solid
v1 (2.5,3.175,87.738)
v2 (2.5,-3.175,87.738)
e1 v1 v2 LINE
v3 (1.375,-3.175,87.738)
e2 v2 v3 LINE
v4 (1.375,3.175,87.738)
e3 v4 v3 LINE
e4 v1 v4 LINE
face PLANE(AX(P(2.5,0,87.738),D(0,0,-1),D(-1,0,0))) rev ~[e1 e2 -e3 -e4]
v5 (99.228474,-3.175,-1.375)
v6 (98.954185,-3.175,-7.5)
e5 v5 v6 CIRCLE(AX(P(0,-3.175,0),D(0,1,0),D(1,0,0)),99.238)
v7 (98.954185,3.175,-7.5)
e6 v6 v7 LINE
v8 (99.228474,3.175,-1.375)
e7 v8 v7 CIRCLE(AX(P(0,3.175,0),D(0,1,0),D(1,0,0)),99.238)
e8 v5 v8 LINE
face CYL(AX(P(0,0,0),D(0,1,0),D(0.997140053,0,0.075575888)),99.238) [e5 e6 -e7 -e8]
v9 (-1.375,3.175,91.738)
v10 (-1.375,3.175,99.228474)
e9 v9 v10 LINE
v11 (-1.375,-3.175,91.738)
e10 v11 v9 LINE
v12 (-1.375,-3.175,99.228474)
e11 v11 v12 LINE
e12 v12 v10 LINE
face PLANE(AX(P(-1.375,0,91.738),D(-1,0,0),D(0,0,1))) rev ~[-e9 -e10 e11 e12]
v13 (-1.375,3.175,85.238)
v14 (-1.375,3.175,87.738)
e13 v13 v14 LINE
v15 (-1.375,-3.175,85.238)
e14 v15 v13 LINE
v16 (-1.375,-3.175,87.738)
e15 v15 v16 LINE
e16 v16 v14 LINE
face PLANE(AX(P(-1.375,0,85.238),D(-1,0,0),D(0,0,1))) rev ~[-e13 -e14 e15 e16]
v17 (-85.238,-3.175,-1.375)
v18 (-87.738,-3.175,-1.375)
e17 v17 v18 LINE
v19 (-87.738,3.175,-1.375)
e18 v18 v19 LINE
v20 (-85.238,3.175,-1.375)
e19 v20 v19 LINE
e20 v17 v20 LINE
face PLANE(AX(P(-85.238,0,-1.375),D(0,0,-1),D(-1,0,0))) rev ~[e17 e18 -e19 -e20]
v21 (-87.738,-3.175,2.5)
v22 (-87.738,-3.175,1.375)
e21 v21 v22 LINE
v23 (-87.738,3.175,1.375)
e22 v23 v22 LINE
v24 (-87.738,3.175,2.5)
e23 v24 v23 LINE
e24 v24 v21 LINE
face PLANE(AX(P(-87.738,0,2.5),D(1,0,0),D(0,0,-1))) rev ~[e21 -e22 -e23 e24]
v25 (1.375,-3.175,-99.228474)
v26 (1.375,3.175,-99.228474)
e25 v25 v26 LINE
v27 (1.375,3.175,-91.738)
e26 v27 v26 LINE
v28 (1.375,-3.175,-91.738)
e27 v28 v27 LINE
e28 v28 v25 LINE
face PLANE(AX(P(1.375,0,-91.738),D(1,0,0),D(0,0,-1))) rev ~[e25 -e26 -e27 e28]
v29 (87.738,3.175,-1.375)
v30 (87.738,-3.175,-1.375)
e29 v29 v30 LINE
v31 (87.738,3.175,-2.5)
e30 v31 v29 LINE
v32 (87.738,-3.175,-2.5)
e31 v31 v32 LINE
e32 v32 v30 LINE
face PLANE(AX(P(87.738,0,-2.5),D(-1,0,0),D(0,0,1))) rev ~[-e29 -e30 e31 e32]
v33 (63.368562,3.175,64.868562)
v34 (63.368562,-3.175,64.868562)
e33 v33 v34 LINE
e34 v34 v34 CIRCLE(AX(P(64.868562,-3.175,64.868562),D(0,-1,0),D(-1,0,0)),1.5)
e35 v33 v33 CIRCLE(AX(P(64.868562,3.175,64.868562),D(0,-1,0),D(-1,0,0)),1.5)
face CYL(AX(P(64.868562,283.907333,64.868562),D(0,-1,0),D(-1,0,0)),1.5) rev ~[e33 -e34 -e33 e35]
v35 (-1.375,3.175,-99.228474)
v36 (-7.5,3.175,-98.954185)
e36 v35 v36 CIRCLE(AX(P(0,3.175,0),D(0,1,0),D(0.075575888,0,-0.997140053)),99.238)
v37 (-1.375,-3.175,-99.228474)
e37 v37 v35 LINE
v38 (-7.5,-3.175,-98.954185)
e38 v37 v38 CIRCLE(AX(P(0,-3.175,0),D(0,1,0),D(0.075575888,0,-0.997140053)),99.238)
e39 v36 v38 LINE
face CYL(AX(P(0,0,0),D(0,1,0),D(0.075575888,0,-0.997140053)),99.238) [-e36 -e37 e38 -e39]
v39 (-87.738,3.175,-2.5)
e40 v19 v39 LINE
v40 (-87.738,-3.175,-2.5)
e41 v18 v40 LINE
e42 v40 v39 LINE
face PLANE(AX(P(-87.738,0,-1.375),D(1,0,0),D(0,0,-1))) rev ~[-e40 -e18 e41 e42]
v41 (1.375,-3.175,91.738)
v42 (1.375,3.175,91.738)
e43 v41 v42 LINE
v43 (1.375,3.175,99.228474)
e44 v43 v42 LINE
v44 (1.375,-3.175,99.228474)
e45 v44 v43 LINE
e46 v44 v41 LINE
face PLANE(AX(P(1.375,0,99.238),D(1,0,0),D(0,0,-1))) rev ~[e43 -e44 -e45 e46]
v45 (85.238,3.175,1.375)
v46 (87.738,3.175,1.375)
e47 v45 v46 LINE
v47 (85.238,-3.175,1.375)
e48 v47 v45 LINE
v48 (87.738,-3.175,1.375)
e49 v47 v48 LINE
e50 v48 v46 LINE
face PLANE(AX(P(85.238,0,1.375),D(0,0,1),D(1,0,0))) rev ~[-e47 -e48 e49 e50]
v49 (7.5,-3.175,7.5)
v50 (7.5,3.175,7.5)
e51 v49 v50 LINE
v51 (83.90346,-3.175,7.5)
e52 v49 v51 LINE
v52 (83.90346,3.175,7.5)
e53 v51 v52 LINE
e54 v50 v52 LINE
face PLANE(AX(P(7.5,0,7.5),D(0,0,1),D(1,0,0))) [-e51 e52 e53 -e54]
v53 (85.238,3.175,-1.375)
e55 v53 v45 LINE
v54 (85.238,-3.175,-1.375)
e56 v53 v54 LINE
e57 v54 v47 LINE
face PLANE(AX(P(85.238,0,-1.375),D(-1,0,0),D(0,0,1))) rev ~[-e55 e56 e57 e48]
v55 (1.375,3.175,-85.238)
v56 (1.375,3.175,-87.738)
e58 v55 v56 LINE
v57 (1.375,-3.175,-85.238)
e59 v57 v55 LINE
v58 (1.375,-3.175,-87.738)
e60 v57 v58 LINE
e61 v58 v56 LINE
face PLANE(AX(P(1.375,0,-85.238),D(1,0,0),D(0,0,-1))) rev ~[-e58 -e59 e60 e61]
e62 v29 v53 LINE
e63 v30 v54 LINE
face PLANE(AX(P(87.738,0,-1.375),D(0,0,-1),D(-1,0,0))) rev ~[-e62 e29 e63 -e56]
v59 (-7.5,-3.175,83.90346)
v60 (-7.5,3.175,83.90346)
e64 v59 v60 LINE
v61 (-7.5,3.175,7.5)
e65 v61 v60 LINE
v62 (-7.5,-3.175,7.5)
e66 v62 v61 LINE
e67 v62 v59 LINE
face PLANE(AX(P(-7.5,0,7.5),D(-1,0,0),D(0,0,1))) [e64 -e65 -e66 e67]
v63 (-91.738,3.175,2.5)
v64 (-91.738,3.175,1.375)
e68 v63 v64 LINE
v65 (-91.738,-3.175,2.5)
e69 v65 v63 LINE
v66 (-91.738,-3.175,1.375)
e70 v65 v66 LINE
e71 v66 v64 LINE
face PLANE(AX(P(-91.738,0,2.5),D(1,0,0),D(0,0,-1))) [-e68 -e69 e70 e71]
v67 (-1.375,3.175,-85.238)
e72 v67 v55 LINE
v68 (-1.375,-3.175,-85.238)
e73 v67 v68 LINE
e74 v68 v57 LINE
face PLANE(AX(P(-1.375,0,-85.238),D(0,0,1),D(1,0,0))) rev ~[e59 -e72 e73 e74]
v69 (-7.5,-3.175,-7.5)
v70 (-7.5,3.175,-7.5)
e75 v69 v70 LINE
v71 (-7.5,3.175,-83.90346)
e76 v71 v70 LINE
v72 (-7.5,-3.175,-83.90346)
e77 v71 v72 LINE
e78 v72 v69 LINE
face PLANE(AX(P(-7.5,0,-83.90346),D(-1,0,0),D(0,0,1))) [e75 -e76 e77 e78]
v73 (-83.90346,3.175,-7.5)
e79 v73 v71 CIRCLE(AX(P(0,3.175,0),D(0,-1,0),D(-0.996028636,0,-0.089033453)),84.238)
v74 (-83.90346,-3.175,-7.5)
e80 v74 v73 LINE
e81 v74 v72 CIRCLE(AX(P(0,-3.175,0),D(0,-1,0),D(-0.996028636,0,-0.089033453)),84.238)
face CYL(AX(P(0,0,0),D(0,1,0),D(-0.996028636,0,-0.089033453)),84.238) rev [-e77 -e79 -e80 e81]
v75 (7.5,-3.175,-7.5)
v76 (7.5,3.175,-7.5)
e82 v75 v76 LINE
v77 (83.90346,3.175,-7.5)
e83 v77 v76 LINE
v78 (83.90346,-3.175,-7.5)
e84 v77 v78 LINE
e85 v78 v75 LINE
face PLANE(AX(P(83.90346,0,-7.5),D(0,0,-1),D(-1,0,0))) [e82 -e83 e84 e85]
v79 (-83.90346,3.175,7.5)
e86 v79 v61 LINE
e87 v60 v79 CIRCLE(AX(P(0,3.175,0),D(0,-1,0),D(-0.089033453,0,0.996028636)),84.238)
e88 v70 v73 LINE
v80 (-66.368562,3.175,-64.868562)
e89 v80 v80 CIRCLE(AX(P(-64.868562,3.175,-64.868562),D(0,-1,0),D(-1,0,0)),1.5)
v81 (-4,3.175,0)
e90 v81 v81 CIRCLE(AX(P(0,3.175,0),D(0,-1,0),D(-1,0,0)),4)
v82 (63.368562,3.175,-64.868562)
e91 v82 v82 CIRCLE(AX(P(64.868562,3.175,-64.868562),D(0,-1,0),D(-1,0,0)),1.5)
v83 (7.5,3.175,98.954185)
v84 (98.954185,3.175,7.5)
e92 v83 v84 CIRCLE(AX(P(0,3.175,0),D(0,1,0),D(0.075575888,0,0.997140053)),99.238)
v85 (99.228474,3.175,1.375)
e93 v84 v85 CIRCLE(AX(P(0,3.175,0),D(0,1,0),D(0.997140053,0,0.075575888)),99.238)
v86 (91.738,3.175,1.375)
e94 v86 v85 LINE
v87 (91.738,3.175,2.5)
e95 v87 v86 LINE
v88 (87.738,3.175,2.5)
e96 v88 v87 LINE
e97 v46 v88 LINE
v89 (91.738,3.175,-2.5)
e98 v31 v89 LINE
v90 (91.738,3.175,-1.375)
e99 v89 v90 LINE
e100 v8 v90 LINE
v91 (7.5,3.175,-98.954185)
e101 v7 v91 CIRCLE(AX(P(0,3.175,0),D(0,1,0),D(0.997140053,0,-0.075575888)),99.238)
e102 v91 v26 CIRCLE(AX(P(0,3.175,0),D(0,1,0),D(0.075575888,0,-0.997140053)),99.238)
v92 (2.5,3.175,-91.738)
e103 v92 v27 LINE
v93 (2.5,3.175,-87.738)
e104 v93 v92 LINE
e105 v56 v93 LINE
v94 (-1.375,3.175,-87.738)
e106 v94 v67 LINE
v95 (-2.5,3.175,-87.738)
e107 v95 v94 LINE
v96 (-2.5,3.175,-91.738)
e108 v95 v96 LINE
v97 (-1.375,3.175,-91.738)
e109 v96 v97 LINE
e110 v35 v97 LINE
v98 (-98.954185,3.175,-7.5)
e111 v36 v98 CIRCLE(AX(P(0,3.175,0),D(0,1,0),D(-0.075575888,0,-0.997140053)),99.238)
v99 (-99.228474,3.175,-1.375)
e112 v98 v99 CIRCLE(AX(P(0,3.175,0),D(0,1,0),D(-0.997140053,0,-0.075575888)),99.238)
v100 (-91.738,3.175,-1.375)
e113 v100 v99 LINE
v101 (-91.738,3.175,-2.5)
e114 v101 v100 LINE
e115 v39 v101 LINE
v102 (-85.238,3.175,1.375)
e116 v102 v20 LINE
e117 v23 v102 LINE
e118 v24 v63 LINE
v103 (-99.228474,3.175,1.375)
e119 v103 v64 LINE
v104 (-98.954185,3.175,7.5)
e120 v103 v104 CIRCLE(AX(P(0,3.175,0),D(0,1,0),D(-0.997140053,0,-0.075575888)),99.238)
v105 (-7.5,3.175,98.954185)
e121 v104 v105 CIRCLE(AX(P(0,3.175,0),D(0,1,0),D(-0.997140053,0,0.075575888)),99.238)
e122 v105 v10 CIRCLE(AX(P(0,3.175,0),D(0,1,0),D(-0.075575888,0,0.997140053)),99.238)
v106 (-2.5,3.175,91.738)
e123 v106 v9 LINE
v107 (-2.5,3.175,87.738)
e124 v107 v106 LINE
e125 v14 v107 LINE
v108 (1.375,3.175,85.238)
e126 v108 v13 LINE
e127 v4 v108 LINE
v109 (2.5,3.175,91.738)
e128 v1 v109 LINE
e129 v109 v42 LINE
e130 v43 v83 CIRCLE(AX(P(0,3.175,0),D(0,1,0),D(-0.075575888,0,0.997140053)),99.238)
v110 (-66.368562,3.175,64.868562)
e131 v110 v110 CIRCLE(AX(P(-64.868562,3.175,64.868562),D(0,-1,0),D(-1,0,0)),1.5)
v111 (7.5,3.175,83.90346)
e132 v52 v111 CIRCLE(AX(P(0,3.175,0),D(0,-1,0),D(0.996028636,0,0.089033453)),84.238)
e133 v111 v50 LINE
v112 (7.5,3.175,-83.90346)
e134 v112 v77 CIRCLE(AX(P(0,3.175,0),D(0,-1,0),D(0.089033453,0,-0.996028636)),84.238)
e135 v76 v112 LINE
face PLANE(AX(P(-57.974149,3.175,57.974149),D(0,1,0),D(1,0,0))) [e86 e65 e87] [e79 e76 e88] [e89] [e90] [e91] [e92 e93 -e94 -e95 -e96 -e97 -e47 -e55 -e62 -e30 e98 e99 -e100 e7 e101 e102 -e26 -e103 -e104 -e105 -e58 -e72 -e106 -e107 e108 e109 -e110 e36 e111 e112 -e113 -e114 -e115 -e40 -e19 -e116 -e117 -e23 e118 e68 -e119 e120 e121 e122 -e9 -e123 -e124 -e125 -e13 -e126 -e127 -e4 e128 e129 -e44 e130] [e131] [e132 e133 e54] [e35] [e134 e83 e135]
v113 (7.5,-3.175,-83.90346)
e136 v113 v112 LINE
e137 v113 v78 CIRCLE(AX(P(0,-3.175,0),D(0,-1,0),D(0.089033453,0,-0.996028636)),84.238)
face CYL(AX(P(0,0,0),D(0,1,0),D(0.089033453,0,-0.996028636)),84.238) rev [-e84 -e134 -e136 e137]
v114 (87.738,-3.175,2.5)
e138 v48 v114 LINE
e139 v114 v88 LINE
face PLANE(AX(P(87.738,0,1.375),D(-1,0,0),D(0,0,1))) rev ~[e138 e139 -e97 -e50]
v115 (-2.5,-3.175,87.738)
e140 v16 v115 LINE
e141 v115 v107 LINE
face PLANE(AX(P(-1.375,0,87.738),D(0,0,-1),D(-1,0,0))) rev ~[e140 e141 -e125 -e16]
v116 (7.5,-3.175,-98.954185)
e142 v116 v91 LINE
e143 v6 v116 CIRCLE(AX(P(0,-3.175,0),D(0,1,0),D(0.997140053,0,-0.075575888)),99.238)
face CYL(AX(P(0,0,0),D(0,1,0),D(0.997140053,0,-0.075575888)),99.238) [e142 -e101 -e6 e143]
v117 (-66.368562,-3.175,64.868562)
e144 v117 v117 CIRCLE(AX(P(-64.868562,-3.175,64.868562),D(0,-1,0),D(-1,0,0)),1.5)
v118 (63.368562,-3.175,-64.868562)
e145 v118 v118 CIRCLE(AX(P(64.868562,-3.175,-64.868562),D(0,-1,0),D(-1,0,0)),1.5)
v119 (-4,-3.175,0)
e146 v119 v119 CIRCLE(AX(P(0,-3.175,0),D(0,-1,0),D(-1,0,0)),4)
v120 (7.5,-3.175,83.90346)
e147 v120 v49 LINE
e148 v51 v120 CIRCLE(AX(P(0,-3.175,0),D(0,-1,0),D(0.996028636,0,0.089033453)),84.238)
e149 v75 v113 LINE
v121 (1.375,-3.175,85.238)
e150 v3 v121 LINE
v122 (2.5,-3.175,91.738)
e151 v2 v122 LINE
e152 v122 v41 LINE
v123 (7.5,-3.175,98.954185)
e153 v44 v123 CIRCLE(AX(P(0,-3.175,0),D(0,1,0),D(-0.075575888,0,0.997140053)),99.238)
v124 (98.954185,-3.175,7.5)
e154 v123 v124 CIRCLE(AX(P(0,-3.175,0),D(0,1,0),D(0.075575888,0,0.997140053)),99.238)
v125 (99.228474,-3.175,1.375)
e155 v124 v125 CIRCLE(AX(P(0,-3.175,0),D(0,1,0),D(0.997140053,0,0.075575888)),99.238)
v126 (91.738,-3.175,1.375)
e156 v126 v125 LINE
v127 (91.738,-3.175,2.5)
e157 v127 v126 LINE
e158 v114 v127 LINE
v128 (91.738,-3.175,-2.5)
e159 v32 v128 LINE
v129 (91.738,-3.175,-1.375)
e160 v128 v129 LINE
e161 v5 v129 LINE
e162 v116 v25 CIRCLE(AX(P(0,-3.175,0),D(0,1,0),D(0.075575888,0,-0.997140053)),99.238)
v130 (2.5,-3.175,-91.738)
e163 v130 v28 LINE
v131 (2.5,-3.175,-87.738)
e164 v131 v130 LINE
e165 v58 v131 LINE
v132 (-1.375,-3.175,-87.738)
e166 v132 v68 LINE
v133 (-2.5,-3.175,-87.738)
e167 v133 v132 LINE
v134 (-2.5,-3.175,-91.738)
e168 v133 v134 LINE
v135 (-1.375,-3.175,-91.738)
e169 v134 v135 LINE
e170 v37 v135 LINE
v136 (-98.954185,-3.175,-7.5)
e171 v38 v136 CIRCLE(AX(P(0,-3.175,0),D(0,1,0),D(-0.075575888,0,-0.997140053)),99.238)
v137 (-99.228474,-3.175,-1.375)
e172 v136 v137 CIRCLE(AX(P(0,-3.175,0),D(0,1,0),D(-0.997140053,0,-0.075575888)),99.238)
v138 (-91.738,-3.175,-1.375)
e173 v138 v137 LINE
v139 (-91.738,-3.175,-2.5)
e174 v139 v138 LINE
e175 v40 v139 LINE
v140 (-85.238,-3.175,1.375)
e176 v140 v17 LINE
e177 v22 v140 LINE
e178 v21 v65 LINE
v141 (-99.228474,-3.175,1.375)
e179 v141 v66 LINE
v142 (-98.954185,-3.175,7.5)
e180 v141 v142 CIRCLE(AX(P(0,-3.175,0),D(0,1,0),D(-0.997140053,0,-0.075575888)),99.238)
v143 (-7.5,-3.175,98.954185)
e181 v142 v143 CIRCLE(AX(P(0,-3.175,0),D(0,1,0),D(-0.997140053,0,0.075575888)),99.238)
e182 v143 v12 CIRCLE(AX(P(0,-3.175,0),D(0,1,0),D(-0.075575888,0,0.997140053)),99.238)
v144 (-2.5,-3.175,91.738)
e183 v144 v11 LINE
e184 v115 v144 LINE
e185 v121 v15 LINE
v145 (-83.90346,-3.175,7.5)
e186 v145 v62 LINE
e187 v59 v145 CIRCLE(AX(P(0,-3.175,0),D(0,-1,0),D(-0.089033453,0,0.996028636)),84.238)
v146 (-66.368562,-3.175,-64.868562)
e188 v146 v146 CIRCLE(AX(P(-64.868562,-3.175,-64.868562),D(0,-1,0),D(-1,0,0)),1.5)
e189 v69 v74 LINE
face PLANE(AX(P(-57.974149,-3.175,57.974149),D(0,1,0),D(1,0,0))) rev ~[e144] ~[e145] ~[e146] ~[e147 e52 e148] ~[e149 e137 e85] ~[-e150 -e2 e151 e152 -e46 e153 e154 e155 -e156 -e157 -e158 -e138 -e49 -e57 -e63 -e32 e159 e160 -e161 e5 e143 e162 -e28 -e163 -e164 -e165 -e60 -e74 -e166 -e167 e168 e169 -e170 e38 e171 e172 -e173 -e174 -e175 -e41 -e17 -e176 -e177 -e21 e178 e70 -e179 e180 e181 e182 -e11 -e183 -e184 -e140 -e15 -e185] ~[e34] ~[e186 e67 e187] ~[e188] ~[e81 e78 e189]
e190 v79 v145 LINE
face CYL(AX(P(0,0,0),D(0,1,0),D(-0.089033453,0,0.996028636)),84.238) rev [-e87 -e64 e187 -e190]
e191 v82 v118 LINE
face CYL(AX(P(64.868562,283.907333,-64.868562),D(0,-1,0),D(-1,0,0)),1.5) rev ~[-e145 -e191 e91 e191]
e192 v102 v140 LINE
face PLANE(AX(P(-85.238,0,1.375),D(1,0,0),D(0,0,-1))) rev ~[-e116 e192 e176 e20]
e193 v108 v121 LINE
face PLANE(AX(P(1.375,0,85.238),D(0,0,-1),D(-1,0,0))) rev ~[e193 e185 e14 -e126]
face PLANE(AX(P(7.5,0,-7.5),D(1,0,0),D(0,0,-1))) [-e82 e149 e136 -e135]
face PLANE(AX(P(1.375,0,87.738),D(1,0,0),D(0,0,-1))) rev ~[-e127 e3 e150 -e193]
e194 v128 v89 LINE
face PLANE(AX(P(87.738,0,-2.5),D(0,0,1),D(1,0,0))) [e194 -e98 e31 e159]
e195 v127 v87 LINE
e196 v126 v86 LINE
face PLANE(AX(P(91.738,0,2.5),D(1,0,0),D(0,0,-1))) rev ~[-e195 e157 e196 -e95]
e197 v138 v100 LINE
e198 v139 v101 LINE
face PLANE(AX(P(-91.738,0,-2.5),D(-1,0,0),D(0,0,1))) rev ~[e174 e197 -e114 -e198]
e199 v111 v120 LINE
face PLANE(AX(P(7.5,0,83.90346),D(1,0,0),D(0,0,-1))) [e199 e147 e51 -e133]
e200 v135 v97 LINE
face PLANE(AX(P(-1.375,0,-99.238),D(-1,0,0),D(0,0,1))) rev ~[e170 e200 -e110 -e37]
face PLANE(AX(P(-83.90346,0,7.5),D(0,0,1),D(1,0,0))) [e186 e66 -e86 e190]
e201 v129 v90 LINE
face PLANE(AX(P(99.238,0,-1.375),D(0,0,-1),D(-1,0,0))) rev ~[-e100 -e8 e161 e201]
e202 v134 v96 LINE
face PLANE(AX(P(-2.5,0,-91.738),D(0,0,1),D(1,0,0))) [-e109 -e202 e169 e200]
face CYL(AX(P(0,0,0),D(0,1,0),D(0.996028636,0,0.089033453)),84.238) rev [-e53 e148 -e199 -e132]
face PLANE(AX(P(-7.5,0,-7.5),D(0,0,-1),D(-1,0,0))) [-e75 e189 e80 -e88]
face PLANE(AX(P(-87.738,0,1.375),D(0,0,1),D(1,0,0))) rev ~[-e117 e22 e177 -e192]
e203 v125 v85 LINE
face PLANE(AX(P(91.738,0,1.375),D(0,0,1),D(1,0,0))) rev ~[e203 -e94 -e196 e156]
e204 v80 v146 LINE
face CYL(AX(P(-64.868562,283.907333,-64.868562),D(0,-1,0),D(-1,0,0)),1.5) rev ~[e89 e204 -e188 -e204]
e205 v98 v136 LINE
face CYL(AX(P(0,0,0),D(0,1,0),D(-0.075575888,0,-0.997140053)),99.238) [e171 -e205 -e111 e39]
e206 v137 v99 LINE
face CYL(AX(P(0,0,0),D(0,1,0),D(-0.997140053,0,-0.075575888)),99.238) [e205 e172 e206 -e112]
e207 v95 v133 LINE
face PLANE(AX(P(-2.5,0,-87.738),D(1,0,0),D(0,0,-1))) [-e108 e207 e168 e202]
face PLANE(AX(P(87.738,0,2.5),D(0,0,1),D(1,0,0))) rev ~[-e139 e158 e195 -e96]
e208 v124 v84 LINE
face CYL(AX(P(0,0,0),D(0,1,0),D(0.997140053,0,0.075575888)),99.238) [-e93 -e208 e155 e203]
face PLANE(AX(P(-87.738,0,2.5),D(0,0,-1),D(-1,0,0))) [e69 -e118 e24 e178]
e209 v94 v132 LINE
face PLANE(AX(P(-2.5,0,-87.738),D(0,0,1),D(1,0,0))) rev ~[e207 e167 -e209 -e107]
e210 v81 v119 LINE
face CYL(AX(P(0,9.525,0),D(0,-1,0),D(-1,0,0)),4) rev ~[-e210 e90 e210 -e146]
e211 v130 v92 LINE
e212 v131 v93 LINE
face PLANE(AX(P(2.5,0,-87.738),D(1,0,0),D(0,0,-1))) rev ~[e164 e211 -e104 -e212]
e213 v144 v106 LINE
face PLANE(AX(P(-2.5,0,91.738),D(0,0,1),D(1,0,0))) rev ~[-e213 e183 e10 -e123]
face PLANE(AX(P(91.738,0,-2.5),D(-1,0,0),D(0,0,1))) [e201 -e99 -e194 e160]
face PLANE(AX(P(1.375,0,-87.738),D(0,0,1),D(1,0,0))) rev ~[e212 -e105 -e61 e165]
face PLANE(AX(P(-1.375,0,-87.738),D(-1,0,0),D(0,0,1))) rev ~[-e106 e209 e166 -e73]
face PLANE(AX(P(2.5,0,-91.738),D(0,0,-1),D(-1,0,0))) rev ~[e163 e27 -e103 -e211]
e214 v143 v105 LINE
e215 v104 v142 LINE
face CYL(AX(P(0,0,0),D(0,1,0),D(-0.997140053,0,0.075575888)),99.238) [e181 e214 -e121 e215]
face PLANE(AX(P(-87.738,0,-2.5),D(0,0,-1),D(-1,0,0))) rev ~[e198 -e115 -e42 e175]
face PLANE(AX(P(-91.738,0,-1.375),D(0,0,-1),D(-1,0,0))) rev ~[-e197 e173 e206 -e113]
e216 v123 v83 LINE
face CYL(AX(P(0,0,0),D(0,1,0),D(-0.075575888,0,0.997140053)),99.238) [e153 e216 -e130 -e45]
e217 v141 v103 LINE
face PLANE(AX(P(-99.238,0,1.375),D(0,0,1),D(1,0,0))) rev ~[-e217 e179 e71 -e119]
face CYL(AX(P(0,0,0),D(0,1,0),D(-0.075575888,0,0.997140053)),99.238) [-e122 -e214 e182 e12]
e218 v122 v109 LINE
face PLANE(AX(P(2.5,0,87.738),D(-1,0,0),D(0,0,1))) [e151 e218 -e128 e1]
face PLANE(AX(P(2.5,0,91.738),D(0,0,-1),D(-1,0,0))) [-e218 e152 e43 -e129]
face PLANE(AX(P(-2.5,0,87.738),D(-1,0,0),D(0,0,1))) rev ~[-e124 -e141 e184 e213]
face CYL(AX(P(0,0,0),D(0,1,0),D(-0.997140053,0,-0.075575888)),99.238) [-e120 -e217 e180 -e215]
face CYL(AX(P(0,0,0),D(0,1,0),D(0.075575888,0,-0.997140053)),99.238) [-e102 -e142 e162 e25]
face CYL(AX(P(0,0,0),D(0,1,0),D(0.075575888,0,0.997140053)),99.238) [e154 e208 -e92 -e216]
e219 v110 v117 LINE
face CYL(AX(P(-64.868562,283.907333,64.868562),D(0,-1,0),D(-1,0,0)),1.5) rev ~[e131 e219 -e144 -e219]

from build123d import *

# Parameters (mm, degrees)
SKETCH1_W                    = 15
SKETCH1_H                    = 15
BOSS_EXTRUDE1_DEPTH          = 3.175
SKETCH2_W                    = 2.75
SKETCH2_H                    = 2.5
SKETCH2_H_2                  = 4
SKETCH2_W_2                  = 1.125
SKETCH2_H_3                  = 7.5
CUT_EXTRUDE1_DEPTH           = 141.379634965
CIRPATTERN1_COUNT            = 4
F_3_0_3_DIAMETER_HOLE1_D     = 3
F_8_0_8_DIAMETER_HOLE1_D     = 8
F_8_0_8_DIAMETER_HOLE1_DEPTH = 6.35


with BuildPart() as part:
    # Sketch1 → Boss-Extrude1 (new, symmetric)
    with BuildSketch(Plane(origin=(0, 0, 0), x_dir=(1, 0, 0), z_dir=(0, 1, 0))):
        with BuildLine():
            Line((-83.903460262, -7.5), (-98.95418457, -7.5))
            ThreePointArc((-98.95418457, -7.5), (-70.171862751, -70.171862751), (-7.5, -98.95418457))
            Line((-7.5, -98.95418457), (-7.5, -83.903460262))
            ThreePointArc((-7.5, -83.903460262), (-59.565261034, -59.565261034), (-83.903460262, -7.5))
        make_face()
        with BuildLine():
            ThreePointArc((-98.95418457, 7.5), (-99.238, 0), (-98.95418457, -7.5))
            Line((-98.95418457, -7.5), (-83.903460262, -7.5))
            ThreePointArc((-83.903460262, -7.5), (-84.238, 0), (-83.903460262, 7.5))
            Line((-83.903460262, 7.5), (-98.95418457, 7.5))
        make_face()
        with BuildLine():
            Line((83.903460262, -7.5), (98.95418457, -7.5))
            ThreePointArc((98.95418457, -7.5), (99.167020759, -3.752684079), (99.238, 0))
            ThreePointArc((99.238, 0), (99.167020759, 3.752684079), (98.95418457, 7.5))
            Line((98.95418457, 7.5), (83.903460262, 7.5))
            ThreePointArc((83.903460262, 7.5), (84.154323506, 3.753728707), (84.238, 0))
            ThreePointArc((84.238, 0), (84.154323506, -3.753728707), (83.903460262, -7.5))
        make_face()
        with BuildLine():
            ThreePointArc((-7.5, 98.95418457), (-70.171862751, 70.171862751), (-98.95418457, 7.5))
            Line((-98.95418457, 7.5), (-83.903460262, 7.5))
            ThreePointArc((-83.903460262, 7.5), (-59.565261034, 59.565261034), (-7.5, 83.903460262))
            Line((-7.5, 83.903460262), (-7.5, 98.95418457))
        make_face()
        with BuildLine():
            Line((-7.5, -83.903460262), (-7.5, -98.95418457))
            ThreePointArc((-7.5, -98.95418457), (0, -99.238), (7.5, -98.95418457))
            Line((7.5, -98.95418457), (7.5, -83.903460262))
            ThreePointArc((7.5, -83.903460262), (0, -84.238), (-7.5, -83.903460262))
        make_face()
        with BuildLine():
            ThreePointArc((7.5, 98.95418457), (0, 99.238), (-7.5, 98.95418457))
            Line((-7.5, 98.95418457), (-7.5, 83.903460262))
            ThreePointArc((-7.5, 83.903460262), (0, 84.238), (7.5, 83.903460262))
            Line((7.5, 83.903460262), (7.5, 98.95418457))
        make_face()
        with BuildLine():
            ThreePointArc((98.95418457, 7.5), (70.171862751, 70.171862751), (7.5, 98.95418457))
            Line((7.5, 98.95418457), (7.5, 83.903460262))
            ThreePointArc((7.5, 83.903460262), (59.565261034, 59.565261034), (83.903460262, 7.5))
            Line((83.903460262, 7.5), (98.95418457, 7.5))
        make_face()
        with BuildLine():
            Line((7.5, -83.903460262), (7.5, -98.95418457))
            ThreePointArc((7.5, -98.95418457), (70.171862751, -70.171862751), (98.95418457, -7.5))
            Line((98.95418457, -7.5), (83.903460262, -7.5))
            ThreePointArc((83.903460262, -7.5), (59.565261034, -59.565261034), (7.5, -83.903460262))
        make_face()
        with BuildLine():
            Line((7.5, -7.5), (-7.5, -7.5))
            Line((-7.5, -7.5), (-7.5, -83.903460262))
            ThreePointArc((-7.5, -83.903460262), (0, -84.238), (7.5, -83.903460262))
            Line((7.5, -83.903460262), (7.5, -7.5))
        make_face()
        with BuildLine():
            ThreePointArc((-83.903460262, 7.5), (-84.238, 0), (-83.903460262, -7.5))
            Line((-83.903460262, -7.5), (-7.5, -7.5))
            Line((-7.5, -7.5), (-7.5, 7.5))
            Line((-7.5, 7.5), (-83.903460262, 7.5))
        make_face()
        with BuildLine():
            Line((-7.5, 83.903460262), (-7.5, 7.5))
            Line((-7.5, 7.5), (7.5, 7.5))
            Line((7.5, 7.5), (7.5, 83.903460262))
            ThreePointArc((7.5, 83.903460262), (0, 84.238), (-7.5, 83.903460262))
        make_face()
        with BuildLine():
            Line((7.5, 7.5), (7.5, -7.5))
            Line((7.5, -7.5), (83.903460262, -7.5))
            ThreePointArc((83.903460262, -7.5), (84.154323506, -3.753728707), (84.238, 0))
            ThreePointArc((84.238, 0), (84.154323506, 3.753728707), (83.903460262, 7.5))
            Line((83.903460262, 7.5), (7.5, 7.5))
        make_face()
        Rectangle(SKETCH1_W, SKETCH1_H)
    extrude(amount=BOSS_EXTRUDE1_DEPTH, both=True)

    # Sketch2 → Cut-Extrude1 (cut, symmetric)
    with BuildSketch(Plane(origin=(0, 0, 0), x_dir=(1, 0, 0), z_dir=(0, 1, 0))):
        with Locations((0, 86.488)):
            Rectangle(SKETCH2_W, SKETCH2_H)
        with Locations((0, 89.738)):
            Rectangle(SKETCH2_W, SKETCH2_H_2)
        with Locations((1.9375, 89.738)):
            Rectangle(SKETCH2_W_2, SKETCH2_H_2)
        with Locations((0, 95.488)):
            Rectangle(SKETCH2_W, SKETCH2_H_3)
        with Locations((-1.9375, 89.738)):
            Rectangle(SKETCH2_W_2, SKETCH2_H_2)
    cut_extrude1 = extrude(amount=CUT_EXTRUDE1_DEPTH, both=True, mode=Mode.SUBTRACT)

    # CirPattern1: Cut-Extrude1 ×4 about axis
    cirpattern1_axis = Axis((0, 0, 0), (0, 1, 0))
    for i in range(1, CIRPATTERN1_COUNT):
        add(cut_extrude1.rotate(cirpattern1_axis, i * 360 / CIRPATTERN1_COUNT), mode=Mode.SUBTRACT)

    # Ø3.0 (3) Diameter Hole1 (through all)
    with Locations(Plane(origin=(0, 3.175, 0), x_dir=(1, 0, 0), z_dir=(0, 1, 0))):
        with Locations((-64.868561892, -64.868561892), (0, 0), (-64.868561892, 64.868561892), (64.868561892, 64.868561892), (64.868561892, -64.868561892)):
            Hole(F_3_0_3_DIAMETER_HOLE1_D / 2)

    # Ø8.0 (8) Diameter Hole1
    with Locations(Plane(origin=(0, 3.175, 0), x_dir=(1, 0, 0), z_dir=(0, 1, 0))):
        with Locations((0, 0)):
            Hole(F_8_0_8_DIAMETER_HOLE1_D / 2, depth=F_8_0_8_DIAMETER_HOLE1_DEPTH)


solid = part.part
